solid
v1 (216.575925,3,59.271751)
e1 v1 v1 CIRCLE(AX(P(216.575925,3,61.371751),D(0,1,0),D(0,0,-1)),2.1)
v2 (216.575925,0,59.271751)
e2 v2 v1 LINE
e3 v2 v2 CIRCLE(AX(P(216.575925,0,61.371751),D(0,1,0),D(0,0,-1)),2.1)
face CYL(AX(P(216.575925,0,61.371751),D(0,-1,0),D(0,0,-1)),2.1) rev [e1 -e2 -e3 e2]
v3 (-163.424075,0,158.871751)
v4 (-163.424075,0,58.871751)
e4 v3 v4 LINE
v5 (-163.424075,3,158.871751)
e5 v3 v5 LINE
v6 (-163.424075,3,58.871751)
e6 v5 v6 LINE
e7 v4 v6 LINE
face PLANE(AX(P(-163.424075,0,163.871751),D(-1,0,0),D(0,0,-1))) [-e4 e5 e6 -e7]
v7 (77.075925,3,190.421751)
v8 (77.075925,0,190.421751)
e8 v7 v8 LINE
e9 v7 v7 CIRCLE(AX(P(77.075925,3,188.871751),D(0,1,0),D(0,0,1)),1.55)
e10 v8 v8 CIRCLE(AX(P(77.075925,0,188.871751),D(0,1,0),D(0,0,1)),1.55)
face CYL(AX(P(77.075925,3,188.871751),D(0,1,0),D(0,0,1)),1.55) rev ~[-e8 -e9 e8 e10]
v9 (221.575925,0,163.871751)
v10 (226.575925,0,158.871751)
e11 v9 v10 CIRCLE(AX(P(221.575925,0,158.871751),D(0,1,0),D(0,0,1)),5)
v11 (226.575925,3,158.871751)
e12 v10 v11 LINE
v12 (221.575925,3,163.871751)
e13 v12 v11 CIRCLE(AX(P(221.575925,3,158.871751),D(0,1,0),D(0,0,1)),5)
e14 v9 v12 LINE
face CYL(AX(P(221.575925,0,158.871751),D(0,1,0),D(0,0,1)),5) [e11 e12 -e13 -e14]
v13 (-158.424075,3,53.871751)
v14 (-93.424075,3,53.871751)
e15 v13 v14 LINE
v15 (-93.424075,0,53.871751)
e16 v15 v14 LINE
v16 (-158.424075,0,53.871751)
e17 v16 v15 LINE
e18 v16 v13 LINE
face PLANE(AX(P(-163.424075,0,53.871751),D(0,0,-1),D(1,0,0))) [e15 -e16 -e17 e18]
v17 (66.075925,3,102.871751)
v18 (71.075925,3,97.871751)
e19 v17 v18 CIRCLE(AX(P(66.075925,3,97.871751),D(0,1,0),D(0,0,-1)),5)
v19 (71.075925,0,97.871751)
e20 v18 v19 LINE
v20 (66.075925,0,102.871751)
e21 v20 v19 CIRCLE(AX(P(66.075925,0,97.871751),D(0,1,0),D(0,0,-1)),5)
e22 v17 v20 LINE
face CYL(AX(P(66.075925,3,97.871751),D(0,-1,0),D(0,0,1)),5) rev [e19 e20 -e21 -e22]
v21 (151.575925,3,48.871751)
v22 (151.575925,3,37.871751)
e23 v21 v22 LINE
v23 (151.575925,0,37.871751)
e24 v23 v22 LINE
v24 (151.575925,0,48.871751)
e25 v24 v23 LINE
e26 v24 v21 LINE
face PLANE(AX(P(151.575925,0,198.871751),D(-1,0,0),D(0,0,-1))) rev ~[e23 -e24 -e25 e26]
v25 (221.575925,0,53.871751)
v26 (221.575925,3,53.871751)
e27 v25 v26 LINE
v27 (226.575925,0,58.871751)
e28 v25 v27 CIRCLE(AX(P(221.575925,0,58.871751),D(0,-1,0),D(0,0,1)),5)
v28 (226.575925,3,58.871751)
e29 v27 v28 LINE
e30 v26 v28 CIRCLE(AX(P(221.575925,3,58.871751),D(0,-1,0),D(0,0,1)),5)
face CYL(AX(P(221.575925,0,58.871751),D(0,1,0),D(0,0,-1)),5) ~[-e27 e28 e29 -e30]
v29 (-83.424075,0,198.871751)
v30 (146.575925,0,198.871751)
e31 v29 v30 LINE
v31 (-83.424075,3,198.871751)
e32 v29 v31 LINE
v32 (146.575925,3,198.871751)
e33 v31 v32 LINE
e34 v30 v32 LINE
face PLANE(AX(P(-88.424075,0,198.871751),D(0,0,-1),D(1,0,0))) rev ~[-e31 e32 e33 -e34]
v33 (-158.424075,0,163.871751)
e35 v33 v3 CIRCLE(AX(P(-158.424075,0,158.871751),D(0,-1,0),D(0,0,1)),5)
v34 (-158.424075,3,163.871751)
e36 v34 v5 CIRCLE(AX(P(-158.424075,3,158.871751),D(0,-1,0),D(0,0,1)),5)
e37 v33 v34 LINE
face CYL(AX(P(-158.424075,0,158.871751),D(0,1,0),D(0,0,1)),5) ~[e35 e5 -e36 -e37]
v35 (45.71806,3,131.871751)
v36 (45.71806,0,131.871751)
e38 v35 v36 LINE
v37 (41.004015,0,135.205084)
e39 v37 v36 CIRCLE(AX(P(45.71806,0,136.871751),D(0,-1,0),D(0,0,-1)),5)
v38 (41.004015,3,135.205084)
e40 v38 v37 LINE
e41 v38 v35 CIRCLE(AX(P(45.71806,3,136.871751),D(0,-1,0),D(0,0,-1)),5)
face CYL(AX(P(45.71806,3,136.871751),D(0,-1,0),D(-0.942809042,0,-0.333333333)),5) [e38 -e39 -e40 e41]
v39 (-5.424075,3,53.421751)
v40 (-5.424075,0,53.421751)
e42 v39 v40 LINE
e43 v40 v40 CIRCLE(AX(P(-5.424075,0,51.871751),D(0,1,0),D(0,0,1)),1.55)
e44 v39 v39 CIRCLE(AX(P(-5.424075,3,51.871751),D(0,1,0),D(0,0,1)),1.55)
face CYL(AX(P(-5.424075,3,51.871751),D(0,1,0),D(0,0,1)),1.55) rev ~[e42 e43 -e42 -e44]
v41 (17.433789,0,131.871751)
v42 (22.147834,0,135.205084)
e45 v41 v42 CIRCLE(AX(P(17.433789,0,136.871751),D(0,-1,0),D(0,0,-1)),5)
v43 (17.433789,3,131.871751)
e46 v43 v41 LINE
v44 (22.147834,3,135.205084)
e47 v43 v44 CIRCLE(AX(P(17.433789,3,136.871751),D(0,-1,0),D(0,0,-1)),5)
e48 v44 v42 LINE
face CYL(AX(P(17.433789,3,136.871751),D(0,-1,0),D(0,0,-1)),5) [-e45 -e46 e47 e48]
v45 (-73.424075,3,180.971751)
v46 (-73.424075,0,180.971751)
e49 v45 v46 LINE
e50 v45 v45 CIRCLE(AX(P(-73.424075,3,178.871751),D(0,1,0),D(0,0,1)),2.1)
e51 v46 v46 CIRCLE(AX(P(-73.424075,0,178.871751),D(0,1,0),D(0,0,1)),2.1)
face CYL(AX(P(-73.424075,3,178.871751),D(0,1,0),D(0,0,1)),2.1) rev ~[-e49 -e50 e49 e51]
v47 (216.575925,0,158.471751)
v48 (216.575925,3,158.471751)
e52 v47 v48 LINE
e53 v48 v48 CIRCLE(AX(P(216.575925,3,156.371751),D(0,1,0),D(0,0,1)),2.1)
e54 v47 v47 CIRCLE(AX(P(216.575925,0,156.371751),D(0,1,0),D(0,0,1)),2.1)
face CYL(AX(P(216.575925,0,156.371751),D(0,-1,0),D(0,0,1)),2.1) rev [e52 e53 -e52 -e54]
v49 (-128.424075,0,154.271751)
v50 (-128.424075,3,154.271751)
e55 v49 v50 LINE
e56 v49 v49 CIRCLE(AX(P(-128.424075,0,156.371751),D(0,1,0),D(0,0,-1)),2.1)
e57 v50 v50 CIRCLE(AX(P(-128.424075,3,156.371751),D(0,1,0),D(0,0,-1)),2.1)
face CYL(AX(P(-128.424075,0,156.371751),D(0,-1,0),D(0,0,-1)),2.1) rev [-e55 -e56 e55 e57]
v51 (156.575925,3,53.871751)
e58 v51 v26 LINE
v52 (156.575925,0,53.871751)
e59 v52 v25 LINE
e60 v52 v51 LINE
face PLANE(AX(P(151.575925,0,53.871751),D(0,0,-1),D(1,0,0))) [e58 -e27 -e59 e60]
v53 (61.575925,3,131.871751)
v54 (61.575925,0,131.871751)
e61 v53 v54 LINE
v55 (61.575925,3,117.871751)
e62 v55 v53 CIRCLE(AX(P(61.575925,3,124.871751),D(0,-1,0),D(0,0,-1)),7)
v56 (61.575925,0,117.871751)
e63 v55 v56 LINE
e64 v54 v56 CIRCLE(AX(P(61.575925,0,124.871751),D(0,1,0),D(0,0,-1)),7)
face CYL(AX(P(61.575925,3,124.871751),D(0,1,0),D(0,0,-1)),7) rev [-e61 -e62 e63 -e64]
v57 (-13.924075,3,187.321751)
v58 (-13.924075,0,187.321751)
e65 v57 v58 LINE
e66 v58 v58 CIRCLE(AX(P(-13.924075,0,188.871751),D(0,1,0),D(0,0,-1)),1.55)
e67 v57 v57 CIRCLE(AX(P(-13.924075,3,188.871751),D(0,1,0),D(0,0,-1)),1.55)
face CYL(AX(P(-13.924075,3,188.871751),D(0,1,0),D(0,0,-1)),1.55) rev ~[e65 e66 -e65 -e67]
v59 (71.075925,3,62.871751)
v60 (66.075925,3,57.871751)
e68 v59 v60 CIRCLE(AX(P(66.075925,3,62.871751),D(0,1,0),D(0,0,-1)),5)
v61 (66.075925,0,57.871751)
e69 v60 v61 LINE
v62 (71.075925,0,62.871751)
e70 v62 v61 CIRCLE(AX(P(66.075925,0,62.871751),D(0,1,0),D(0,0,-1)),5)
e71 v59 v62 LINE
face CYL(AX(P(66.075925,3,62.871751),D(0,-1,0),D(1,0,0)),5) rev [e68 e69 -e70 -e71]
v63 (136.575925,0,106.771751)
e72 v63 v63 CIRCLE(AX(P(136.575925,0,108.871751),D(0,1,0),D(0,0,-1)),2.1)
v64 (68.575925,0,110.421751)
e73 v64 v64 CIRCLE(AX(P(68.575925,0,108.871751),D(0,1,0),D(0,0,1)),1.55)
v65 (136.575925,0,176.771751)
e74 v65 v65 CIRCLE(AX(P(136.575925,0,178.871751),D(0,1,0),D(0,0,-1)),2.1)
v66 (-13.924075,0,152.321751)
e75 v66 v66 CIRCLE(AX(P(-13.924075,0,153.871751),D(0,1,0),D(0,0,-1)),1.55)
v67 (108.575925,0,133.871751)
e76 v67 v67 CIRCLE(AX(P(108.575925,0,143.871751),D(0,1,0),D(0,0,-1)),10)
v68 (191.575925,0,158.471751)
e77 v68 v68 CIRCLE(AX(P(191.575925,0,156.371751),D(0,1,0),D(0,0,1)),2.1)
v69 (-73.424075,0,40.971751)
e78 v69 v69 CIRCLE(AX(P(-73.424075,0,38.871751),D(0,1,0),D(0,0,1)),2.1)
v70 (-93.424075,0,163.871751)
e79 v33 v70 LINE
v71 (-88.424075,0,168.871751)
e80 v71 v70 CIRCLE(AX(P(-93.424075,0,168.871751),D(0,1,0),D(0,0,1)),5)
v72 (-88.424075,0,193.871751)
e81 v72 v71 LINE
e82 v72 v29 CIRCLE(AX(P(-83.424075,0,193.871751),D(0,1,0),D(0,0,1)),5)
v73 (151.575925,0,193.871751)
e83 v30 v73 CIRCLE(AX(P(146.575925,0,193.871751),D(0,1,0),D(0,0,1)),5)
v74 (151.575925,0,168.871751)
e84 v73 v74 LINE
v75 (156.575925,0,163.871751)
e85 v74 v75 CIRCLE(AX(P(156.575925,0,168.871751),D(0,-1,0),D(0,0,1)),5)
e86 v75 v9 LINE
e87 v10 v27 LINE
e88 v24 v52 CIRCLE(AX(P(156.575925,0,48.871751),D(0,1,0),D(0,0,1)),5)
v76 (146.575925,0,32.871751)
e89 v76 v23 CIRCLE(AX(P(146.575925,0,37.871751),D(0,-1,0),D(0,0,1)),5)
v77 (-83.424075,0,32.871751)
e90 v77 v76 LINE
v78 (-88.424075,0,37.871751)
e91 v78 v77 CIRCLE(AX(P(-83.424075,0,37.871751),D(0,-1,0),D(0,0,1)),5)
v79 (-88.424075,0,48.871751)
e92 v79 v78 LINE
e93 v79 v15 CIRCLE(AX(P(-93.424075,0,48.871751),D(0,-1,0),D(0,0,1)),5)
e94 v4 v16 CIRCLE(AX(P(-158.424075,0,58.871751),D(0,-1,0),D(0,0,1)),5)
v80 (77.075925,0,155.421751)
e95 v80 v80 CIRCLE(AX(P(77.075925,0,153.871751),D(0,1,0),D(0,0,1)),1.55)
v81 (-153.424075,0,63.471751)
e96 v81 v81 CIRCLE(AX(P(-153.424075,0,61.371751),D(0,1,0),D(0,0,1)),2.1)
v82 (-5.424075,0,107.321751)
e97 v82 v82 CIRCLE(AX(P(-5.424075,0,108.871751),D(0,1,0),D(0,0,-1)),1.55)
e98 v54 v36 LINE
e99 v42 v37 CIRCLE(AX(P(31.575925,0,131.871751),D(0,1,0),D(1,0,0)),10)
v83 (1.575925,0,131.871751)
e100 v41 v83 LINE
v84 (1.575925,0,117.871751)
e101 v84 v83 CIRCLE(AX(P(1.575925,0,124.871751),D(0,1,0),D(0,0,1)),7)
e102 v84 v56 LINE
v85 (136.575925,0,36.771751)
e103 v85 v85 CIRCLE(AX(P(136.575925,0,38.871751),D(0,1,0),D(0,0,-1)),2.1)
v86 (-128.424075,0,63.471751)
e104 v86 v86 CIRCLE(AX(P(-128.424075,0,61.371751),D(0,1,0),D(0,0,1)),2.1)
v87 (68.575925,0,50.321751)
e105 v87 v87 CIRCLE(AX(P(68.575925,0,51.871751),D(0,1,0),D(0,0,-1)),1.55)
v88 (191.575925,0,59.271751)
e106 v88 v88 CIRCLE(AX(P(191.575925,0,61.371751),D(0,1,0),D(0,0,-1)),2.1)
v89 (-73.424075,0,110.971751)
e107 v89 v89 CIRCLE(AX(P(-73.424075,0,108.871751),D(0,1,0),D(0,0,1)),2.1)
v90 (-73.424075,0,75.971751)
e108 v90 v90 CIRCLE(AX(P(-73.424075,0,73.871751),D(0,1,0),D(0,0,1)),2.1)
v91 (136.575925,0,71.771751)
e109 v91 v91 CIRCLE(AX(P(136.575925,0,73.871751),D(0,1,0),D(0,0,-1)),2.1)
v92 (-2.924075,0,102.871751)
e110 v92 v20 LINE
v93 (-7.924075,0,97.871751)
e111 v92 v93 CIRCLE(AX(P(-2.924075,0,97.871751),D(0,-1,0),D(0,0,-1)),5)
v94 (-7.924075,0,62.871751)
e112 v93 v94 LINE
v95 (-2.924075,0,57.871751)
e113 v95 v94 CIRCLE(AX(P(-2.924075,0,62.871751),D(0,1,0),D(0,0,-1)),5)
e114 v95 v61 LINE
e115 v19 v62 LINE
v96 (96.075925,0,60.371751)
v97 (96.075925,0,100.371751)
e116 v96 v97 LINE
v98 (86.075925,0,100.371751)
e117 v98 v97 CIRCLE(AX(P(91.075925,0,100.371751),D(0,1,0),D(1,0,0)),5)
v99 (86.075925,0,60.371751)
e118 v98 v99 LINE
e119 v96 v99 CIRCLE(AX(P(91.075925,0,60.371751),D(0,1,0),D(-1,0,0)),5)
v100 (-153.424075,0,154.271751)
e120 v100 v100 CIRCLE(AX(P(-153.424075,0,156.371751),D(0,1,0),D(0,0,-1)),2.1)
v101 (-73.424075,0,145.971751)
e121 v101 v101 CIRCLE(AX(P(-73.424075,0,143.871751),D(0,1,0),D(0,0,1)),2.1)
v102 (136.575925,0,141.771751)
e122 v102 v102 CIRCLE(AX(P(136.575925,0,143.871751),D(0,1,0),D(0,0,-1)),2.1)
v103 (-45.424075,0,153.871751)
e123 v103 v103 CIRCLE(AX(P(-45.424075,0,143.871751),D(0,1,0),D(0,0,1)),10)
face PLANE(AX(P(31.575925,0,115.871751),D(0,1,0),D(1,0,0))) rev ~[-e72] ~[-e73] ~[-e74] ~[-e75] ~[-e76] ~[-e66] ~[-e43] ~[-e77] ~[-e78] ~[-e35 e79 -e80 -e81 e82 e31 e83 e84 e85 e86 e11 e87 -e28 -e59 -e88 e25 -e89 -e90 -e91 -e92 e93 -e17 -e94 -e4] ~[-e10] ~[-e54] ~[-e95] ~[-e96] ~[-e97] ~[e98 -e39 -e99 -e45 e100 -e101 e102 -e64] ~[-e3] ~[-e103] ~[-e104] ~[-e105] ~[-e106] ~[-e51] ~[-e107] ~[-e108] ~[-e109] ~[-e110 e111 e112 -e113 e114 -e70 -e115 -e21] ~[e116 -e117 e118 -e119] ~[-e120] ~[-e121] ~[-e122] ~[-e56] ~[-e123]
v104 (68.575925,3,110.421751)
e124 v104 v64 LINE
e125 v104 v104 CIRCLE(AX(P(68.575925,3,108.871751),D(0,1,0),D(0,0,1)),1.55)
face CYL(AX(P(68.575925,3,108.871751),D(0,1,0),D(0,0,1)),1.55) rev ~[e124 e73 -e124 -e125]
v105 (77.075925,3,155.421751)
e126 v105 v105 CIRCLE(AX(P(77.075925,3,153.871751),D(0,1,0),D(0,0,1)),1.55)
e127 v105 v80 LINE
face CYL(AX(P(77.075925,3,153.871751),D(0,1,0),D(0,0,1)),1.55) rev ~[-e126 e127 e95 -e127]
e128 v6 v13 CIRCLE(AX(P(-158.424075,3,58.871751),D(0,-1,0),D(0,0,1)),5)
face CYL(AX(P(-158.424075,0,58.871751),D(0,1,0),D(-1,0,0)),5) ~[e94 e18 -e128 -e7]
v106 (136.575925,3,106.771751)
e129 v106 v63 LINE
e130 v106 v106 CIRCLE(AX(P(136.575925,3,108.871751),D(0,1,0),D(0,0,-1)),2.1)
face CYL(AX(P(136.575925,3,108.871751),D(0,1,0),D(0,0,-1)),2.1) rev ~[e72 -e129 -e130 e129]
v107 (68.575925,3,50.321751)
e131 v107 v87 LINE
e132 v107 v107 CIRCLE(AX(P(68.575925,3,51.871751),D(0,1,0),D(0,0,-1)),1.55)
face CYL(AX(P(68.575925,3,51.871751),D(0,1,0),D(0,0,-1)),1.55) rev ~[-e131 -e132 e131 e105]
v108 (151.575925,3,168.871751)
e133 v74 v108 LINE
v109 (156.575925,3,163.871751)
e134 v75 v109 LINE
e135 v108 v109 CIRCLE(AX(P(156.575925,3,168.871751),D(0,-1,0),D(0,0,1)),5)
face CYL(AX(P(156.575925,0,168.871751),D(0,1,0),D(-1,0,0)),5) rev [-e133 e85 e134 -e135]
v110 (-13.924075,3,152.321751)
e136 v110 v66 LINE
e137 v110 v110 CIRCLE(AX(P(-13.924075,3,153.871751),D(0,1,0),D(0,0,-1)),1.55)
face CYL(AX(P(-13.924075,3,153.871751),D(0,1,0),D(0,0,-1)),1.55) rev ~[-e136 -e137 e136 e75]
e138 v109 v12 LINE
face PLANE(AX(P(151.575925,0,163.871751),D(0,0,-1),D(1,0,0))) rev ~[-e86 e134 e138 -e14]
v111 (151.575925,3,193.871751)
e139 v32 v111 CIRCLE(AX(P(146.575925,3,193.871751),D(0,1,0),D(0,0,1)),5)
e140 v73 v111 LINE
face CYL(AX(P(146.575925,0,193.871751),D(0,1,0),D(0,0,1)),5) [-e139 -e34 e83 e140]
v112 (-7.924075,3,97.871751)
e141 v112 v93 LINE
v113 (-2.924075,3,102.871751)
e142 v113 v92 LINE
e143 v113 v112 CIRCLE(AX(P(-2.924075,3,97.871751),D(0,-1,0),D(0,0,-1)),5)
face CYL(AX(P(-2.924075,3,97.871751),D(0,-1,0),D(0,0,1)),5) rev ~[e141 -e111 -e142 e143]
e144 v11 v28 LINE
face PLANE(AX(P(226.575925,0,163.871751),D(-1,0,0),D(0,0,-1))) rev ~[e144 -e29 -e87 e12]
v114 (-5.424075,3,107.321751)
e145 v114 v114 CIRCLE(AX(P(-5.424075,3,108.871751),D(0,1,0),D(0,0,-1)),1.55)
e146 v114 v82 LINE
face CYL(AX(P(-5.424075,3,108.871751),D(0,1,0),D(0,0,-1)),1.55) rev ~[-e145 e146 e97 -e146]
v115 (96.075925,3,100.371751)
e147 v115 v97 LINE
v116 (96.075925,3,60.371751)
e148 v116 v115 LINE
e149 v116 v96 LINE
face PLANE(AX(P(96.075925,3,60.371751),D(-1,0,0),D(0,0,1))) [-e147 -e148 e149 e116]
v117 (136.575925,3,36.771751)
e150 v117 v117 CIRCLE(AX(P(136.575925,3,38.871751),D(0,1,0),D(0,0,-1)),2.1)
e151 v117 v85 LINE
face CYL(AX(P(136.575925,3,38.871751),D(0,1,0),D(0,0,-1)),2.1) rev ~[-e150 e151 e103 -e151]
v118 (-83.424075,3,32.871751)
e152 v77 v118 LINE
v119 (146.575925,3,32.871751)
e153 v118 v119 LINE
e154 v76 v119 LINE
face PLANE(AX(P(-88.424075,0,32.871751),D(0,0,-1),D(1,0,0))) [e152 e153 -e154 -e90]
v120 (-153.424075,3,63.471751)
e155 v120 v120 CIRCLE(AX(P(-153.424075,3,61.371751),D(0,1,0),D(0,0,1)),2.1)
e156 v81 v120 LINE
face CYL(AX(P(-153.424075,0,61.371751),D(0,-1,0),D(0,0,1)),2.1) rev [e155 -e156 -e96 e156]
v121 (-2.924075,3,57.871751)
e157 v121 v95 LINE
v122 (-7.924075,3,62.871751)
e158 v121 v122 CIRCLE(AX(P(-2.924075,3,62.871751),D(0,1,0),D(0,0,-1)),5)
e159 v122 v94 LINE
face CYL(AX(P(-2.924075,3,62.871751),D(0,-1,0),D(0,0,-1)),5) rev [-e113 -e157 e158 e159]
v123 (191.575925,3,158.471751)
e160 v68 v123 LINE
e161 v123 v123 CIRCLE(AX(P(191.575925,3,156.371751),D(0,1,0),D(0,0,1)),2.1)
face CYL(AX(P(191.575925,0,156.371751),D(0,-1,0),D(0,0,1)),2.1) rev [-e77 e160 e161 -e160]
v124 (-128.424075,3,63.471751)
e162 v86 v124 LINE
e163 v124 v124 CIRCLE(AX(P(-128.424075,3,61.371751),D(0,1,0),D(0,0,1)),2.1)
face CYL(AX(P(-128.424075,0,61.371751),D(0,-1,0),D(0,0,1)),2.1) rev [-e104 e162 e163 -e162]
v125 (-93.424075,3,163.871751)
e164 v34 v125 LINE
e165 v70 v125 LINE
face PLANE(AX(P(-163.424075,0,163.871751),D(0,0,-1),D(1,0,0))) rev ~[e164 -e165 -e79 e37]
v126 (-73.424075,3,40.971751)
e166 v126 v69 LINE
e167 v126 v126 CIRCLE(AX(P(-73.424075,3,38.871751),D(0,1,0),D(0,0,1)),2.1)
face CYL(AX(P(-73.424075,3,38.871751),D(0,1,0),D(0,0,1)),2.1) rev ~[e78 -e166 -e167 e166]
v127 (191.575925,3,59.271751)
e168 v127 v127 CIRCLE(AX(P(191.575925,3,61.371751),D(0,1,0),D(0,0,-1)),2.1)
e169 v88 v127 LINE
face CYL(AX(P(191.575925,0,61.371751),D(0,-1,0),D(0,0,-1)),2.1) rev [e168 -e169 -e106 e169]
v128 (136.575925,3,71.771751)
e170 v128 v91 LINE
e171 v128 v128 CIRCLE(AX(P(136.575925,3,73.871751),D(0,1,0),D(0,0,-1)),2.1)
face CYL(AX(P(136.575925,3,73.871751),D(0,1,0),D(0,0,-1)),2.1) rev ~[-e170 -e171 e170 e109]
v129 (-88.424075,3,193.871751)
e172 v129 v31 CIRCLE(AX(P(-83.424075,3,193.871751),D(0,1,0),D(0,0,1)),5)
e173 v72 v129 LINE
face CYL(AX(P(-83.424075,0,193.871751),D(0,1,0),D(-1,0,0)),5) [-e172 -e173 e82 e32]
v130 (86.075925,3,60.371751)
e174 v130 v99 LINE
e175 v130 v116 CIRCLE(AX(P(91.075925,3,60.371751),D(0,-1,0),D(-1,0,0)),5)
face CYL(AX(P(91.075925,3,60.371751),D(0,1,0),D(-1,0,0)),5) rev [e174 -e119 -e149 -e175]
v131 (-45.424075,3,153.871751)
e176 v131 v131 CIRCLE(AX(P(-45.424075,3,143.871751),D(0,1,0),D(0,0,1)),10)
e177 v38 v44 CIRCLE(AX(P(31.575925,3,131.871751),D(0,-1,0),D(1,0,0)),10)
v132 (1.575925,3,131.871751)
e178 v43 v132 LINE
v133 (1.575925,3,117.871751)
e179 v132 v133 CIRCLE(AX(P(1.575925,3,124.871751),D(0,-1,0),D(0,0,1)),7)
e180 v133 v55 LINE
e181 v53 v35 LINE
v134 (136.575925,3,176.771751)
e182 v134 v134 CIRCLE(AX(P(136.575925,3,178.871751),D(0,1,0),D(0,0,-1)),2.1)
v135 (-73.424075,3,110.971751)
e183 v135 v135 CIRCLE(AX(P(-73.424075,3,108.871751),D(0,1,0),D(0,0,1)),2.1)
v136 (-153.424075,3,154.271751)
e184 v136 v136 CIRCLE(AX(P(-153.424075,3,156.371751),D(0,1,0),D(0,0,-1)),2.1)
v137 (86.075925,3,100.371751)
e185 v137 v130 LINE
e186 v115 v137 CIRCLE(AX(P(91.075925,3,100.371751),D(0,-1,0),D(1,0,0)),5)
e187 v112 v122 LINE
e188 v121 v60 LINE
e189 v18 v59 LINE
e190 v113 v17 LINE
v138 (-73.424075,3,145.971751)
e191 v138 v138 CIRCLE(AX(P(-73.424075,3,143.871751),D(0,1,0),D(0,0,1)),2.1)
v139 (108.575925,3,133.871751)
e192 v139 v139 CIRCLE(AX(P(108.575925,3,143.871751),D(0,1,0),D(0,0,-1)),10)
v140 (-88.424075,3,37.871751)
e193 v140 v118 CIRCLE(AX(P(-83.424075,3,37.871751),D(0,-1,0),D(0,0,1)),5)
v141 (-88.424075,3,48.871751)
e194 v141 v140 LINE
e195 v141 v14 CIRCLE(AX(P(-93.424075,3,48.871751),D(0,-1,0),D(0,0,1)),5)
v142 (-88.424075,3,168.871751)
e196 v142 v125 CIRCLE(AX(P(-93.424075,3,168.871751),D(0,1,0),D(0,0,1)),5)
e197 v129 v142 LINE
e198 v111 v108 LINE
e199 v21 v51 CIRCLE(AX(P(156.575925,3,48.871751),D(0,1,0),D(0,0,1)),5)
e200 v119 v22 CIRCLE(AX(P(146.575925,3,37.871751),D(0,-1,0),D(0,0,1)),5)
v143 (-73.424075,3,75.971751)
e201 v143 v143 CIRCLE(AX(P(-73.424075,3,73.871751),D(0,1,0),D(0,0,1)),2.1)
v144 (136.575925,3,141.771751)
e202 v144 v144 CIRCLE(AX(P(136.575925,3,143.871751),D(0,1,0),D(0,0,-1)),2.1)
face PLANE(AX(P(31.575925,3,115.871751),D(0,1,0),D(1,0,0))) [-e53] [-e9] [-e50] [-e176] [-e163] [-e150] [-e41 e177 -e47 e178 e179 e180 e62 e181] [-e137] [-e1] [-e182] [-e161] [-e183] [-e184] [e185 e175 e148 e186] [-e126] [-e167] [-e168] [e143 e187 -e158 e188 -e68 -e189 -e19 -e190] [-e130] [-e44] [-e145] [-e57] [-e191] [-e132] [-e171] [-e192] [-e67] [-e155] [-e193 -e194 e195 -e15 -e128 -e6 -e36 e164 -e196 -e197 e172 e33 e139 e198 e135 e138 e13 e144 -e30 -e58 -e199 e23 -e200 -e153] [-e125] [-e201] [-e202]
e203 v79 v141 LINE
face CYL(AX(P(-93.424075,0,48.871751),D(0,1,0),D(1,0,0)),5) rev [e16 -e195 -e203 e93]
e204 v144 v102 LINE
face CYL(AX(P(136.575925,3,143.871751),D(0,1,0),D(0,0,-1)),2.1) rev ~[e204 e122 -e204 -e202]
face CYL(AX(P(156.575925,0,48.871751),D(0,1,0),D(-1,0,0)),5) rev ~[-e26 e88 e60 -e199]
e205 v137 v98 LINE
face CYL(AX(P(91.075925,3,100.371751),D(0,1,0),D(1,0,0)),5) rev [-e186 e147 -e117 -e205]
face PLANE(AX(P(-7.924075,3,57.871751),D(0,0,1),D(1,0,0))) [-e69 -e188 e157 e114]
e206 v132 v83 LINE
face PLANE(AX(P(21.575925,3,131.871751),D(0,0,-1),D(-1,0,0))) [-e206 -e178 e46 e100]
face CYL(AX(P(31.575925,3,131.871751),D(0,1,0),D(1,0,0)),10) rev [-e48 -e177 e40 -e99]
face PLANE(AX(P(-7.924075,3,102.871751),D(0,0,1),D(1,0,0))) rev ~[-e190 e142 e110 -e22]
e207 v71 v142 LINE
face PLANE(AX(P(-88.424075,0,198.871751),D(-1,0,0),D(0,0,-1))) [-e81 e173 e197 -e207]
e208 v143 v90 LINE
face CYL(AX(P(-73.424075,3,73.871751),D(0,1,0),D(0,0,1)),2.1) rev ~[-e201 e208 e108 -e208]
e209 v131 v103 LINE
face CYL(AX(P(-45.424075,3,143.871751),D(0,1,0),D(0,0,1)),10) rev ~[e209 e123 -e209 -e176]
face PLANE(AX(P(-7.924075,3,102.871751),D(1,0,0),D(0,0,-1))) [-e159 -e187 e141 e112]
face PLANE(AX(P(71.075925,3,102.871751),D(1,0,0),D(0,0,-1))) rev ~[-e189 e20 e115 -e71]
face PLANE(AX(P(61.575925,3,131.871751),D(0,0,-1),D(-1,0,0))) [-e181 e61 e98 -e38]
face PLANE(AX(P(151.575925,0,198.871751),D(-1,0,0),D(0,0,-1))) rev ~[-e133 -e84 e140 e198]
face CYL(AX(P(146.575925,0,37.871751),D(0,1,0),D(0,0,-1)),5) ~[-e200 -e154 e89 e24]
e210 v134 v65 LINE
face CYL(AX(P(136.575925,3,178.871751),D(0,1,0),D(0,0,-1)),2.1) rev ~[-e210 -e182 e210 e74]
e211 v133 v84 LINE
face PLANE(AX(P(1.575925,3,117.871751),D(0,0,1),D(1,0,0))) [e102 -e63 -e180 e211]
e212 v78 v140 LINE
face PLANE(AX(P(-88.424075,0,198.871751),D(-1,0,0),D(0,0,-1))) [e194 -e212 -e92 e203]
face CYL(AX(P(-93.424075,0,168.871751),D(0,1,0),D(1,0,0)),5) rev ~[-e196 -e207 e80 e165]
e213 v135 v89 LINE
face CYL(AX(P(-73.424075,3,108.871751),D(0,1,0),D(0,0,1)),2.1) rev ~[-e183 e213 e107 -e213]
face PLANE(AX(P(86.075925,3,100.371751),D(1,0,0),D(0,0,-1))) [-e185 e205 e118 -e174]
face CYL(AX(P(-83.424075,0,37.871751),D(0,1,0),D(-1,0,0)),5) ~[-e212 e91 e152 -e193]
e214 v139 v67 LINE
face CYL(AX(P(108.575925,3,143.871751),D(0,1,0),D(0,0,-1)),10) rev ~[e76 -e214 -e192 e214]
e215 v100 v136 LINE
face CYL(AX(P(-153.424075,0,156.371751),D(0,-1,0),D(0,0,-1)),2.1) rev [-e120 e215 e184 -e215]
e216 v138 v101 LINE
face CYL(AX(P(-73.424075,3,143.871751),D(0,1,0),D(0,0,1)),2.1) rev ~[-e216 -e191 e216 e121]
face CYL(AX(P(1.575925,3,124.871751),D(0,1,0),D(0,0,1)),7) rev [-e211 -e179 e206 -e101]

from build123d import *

# Parameters (mm, degrees)
SKETCH_1_W          = 240
SKETCH_1_H          = 166
EXTRUDE_1230_DEPTH  = 3
SKETCH_4_R          = 2.1
SKETCH_4_R_2        = 1.55
CUT_EXTRUDE_3_DEPTH = 251.068459046
SKETCH_5_R          = 1.55
SKETCH_5_R_2        = 10
SKETCH_5_W          = 79
SKETCH_5_H          = 45
CUT_EXTRUDE_4_DEPTH = 251.068459046
SKETCH_6_W          = 75
SKETCH_6_H          = 110
SKETCH_6_R          = 2.1
EXTRUDE_1_DEPTH     = 3
FILLET_1_R          = 5


with BuildPart() as part:
    # 草图1 → Extrude 1230 (new body)
    with BuildSketch(Plane(origin=(0, 0, 0), x_dir=(1, 0, 0), z_dir=(0, 1, 0))):
        with Locations((31.575924772, -115.871750732)):
            Rectangle(SKETCH_1_W, SKETCH_1_H)
    extrude(amount=EXTRUDE_1230_DEPTH)

    # 草图4 → 切除-拉伸3 (cut, through all)
    with BuildSketch(Plane(origin=(0, 3, 0), x_dir=(1, 0, 0), z_dir=(0, 1, 0))):
        with Locations(Location((-73.424075228, -73.871750732, 0), (0, 0, 270))):
            Circle(SKETCH_4_R)
        with Locations(Location((136.575924772, -178.871750732, 0), (0, 0, 90))):
            Circle(SKETCH_4_R)
        with Locations(Location((-73.424075228, -108.871750732, 0), (0, 0, 270))):
            Circle(SKETCH_4_R)
        with Locations(Location((-73.424075228, -143.871750732, 0), (0, 0, 270))):
            Circle(SKETCH_4_R)
        with Locations(Location((-73.424075228, -178.871750732, 0), (0, 0, 270))):
            Circle(SKETCH_4_R)
        with Locations(Location((136.575924772, -143.871750732, 0), (0, 0, 90))):
            Circle(SKETCH_4_R)
        with Locations(Location((136.575924772, -108.871750732, 0), (0, 0, 90))):
            Circle(SKETCH_4_R)
        with Locations(Location((136.575924772, -73.871750732, 0), (0, 0, 90))):
            Circle(SKETCH_4_R)
        with Locations(Location((-73.424075228, -38.871750732, 0), (0, 0, 270))):
            Circle(SKETCH_4_R)
        with Locations(Location((136.575924772, -38.871750732, 0), (0, 0, 90))):
            Circle(SKETCH_4_R)
        with Locations(Location((77.075924772, -188.871750732, 0), (0, 0, 270))):
            Circle(SKETCH_4_R_2)
        with Locations(Location((-13.924075228, -188.871750732, 0), (0, 0, 90))):
            Circle(SKETCH_4_R_2)
        with Locations(Location((77.075924772, -153.871750732, 0), (0, 0, 270))):
            Circle(SKETCH_4_R_2)
        with Locations(Location((-13.924075228, -153.871750732, 0), (0, 0, 90))):
            Circle(SKETCH_4_R_2)
    extrude(amount=-CUT_EXTRUDE_3_DEPTH, mode=Mode.SUBTRACT)

    # 草图5 → 切除-拉伸4 (cut, through all)
    with BuildSketch(Plane(origin=(0, 3, 0), x_dir=(1, 0, 0), z_dir=(0, 1, 0))):
        with Locations(Location((-5.424075228, -51.871750732, 0), (0, 0, 270))):
            Circle(SKETCH_5_R)
        with Locations(Location((68.575924772, -51.871750732, 0), (0, 0, 90))):
            Circle(SKETCH_5_R)
        with Locations(Location((68.575924772, -108.871750732, 0), (0, 0, 270))):
            Circle(SKETCH_5_R)
        with Locations(Location((-5.424075228, -108.871750732, 0), (0, 0, 90))):
            Circle(SKETCH_5_R)
        with Locations(Location((-45.424075228, -143.871750732, 0), (0, 0, 270))):
            Circle(SKETCH_5_R_2)
        with Locations(Location((108.575924772, -143.871750732, 0), (0, 0, 90))):
            Circle(SKETCH_5_R_2)
        with Locations((31.575924772, -80.371750732)):
            Rectangle(SKETCH_5_W, SKETCH_5_H)
        with BuildLine():
            Line((86.075924772, -100.371750732), (86.075924772, -60.371750732))
            ThreePointArc((86.075924772, -60.371750732), (91.075924772, -55.371750732), (96.075924772, -60.371750732))
            Line((96.075924772, -60.371750732), (96.075924772, -100.371750732))
            ThreePointArc((96.075924772, -100.371750732), (91.075924772, -105.371750732), (86.075924772, -100.371750732))
        make_face()
        with BuildLine():
            Line((1.575924772, -117.871750732), (61.575924772, -117.871750732))
            ThreePointArc((61.575924772, -117.871750732), (68.575924772, -124.871750732), (61.575924772, -131.871750732))
            Line((61.575924772, -131.871750732), (41.575924772, -131.871750732))
            ThreePointArc((41.575924772, -131.871750732), (31.575924772, -141.871750732), (21.575924772, -131.871750732))
            Line((21.575924772, -131.871750732), (1.575924772, -131.871750732))
            ThreePointArc((1.575924772, -131.871750732), (-5.424075228, -124.871750732), (1.575924772, -117.871750732))
        make_face()
    extrude(amount=-CUT_EXTRUDE_4_DEPTH, mode=Mode.SUBTRACT)

    # 草图6 → 凸台-拉伸1 (add)
    # profile 1 of 2: a face of its own
    with BuildSketch(Plane(origin=(0, 0, 0), x_dir=(1, 0, 0), z_dir=(0, 1, 0))):
        with Locations((-125.924075228, -108.871750732)):
            Rectangle(SKETCH_6_W, SKETCH_6_H)
        with Locations(Location((-153.424075228, -61.371750732, 0), (0, 0, 270))):
            Circle(SKETCH_6_R, mode=Mode.SUBTRACT)
        with Locations(Location((-153.424075228, -156.371750732, 0), (0, 0, 90))):
            Circle(SKETCH_6_R, mode=Mode.SUBTRACT)
        with Locations(Location((-128.424075228, -61.371750732, 0), (0, 0, 270))):
            Circle(SKETCH_6_R, mode=Mode.SUBTRACT)
        with Locations(Location((-128.424075228, -156.371750732, 0), (0, 0, 90))):
            Circle(SKETCH_6_R, mode=Mode.SUBTRACT)
    # profile 2 of 2: a face of its own
    with BuildSketch(Plane(origin=(0, 0, 0), x_dir=(1, 0, 0), z_dir=(0, 1, 0))):
        with Locations((189.075924772, -108.871750732)):
            Rectangle(SKETCH_6_W, SKETCH_6_H)
        with Locations(Location((216.575924772, -156.371750732, 0), (0, 0, 270))):
            Circle(SKETCH_6_R, mode=Mode.SUBTRACT)
        with Locations(Location((216.575924772, -61.371750732, 0), (0, 0, 90))):
            Circle(SKETCH_6_R, mode=Mode.SUBTRACT)
        with Locations(Location((191.575924772, -156.371750732, 0), (0, 0, 270))):
            Circle(SKETCH_6_R, mode=Mode.SUBTRACT)
        with Locations(Location((191.575924772, -61.371750732, 0), (0, 0, 90))):
            Circle(SKETCH_6_R, mode=Mode.SUBTRACT)
    extrude(amount=EXTRUDE_1_DEPTH)

    # 圆角1
    fillet_1_edges = [part.edges().sort_by_distance(p)[0] for p in [
        (41.575924772, 1.5, 131.871750732),
        (21.575924772, 1.5, 131.871750732),
        (-7.924075228, 1.5, 102.871750732),
        (-7.924075228, 1.5, 57.871750732),
        (71.075924772, 1.5, 57.871750732),
        (71.075924772, 1.5, 102.871750732),
        (-88.424075228, 1.5, 163.871750732),
        (-88.424075228, 1.5, 53.871750732),
        (-163.424075228, 1.5, 53.871750732),
        (-163.424075228, 1.5, 163.871750732),
        (226.575924772, 1.5, 53.871750732),
        (151.575924772, 1.5, 53.871750732),
        (151.575924772, 1.5, 163.871750732),
        (226.575924772, 1.5, 163.871750732),
        (-88.424075228, 1.5, 198.871750732),
        (-88.424075228, 1.5, 32.871750732),
        (151.575924772, 1.5, 32.871750732),
        (151.575924772, 1.5, 198.871750732),
    ]]
    fillet(fillet_1_edges, radius=FILLET_1_R)


solid = part.part
